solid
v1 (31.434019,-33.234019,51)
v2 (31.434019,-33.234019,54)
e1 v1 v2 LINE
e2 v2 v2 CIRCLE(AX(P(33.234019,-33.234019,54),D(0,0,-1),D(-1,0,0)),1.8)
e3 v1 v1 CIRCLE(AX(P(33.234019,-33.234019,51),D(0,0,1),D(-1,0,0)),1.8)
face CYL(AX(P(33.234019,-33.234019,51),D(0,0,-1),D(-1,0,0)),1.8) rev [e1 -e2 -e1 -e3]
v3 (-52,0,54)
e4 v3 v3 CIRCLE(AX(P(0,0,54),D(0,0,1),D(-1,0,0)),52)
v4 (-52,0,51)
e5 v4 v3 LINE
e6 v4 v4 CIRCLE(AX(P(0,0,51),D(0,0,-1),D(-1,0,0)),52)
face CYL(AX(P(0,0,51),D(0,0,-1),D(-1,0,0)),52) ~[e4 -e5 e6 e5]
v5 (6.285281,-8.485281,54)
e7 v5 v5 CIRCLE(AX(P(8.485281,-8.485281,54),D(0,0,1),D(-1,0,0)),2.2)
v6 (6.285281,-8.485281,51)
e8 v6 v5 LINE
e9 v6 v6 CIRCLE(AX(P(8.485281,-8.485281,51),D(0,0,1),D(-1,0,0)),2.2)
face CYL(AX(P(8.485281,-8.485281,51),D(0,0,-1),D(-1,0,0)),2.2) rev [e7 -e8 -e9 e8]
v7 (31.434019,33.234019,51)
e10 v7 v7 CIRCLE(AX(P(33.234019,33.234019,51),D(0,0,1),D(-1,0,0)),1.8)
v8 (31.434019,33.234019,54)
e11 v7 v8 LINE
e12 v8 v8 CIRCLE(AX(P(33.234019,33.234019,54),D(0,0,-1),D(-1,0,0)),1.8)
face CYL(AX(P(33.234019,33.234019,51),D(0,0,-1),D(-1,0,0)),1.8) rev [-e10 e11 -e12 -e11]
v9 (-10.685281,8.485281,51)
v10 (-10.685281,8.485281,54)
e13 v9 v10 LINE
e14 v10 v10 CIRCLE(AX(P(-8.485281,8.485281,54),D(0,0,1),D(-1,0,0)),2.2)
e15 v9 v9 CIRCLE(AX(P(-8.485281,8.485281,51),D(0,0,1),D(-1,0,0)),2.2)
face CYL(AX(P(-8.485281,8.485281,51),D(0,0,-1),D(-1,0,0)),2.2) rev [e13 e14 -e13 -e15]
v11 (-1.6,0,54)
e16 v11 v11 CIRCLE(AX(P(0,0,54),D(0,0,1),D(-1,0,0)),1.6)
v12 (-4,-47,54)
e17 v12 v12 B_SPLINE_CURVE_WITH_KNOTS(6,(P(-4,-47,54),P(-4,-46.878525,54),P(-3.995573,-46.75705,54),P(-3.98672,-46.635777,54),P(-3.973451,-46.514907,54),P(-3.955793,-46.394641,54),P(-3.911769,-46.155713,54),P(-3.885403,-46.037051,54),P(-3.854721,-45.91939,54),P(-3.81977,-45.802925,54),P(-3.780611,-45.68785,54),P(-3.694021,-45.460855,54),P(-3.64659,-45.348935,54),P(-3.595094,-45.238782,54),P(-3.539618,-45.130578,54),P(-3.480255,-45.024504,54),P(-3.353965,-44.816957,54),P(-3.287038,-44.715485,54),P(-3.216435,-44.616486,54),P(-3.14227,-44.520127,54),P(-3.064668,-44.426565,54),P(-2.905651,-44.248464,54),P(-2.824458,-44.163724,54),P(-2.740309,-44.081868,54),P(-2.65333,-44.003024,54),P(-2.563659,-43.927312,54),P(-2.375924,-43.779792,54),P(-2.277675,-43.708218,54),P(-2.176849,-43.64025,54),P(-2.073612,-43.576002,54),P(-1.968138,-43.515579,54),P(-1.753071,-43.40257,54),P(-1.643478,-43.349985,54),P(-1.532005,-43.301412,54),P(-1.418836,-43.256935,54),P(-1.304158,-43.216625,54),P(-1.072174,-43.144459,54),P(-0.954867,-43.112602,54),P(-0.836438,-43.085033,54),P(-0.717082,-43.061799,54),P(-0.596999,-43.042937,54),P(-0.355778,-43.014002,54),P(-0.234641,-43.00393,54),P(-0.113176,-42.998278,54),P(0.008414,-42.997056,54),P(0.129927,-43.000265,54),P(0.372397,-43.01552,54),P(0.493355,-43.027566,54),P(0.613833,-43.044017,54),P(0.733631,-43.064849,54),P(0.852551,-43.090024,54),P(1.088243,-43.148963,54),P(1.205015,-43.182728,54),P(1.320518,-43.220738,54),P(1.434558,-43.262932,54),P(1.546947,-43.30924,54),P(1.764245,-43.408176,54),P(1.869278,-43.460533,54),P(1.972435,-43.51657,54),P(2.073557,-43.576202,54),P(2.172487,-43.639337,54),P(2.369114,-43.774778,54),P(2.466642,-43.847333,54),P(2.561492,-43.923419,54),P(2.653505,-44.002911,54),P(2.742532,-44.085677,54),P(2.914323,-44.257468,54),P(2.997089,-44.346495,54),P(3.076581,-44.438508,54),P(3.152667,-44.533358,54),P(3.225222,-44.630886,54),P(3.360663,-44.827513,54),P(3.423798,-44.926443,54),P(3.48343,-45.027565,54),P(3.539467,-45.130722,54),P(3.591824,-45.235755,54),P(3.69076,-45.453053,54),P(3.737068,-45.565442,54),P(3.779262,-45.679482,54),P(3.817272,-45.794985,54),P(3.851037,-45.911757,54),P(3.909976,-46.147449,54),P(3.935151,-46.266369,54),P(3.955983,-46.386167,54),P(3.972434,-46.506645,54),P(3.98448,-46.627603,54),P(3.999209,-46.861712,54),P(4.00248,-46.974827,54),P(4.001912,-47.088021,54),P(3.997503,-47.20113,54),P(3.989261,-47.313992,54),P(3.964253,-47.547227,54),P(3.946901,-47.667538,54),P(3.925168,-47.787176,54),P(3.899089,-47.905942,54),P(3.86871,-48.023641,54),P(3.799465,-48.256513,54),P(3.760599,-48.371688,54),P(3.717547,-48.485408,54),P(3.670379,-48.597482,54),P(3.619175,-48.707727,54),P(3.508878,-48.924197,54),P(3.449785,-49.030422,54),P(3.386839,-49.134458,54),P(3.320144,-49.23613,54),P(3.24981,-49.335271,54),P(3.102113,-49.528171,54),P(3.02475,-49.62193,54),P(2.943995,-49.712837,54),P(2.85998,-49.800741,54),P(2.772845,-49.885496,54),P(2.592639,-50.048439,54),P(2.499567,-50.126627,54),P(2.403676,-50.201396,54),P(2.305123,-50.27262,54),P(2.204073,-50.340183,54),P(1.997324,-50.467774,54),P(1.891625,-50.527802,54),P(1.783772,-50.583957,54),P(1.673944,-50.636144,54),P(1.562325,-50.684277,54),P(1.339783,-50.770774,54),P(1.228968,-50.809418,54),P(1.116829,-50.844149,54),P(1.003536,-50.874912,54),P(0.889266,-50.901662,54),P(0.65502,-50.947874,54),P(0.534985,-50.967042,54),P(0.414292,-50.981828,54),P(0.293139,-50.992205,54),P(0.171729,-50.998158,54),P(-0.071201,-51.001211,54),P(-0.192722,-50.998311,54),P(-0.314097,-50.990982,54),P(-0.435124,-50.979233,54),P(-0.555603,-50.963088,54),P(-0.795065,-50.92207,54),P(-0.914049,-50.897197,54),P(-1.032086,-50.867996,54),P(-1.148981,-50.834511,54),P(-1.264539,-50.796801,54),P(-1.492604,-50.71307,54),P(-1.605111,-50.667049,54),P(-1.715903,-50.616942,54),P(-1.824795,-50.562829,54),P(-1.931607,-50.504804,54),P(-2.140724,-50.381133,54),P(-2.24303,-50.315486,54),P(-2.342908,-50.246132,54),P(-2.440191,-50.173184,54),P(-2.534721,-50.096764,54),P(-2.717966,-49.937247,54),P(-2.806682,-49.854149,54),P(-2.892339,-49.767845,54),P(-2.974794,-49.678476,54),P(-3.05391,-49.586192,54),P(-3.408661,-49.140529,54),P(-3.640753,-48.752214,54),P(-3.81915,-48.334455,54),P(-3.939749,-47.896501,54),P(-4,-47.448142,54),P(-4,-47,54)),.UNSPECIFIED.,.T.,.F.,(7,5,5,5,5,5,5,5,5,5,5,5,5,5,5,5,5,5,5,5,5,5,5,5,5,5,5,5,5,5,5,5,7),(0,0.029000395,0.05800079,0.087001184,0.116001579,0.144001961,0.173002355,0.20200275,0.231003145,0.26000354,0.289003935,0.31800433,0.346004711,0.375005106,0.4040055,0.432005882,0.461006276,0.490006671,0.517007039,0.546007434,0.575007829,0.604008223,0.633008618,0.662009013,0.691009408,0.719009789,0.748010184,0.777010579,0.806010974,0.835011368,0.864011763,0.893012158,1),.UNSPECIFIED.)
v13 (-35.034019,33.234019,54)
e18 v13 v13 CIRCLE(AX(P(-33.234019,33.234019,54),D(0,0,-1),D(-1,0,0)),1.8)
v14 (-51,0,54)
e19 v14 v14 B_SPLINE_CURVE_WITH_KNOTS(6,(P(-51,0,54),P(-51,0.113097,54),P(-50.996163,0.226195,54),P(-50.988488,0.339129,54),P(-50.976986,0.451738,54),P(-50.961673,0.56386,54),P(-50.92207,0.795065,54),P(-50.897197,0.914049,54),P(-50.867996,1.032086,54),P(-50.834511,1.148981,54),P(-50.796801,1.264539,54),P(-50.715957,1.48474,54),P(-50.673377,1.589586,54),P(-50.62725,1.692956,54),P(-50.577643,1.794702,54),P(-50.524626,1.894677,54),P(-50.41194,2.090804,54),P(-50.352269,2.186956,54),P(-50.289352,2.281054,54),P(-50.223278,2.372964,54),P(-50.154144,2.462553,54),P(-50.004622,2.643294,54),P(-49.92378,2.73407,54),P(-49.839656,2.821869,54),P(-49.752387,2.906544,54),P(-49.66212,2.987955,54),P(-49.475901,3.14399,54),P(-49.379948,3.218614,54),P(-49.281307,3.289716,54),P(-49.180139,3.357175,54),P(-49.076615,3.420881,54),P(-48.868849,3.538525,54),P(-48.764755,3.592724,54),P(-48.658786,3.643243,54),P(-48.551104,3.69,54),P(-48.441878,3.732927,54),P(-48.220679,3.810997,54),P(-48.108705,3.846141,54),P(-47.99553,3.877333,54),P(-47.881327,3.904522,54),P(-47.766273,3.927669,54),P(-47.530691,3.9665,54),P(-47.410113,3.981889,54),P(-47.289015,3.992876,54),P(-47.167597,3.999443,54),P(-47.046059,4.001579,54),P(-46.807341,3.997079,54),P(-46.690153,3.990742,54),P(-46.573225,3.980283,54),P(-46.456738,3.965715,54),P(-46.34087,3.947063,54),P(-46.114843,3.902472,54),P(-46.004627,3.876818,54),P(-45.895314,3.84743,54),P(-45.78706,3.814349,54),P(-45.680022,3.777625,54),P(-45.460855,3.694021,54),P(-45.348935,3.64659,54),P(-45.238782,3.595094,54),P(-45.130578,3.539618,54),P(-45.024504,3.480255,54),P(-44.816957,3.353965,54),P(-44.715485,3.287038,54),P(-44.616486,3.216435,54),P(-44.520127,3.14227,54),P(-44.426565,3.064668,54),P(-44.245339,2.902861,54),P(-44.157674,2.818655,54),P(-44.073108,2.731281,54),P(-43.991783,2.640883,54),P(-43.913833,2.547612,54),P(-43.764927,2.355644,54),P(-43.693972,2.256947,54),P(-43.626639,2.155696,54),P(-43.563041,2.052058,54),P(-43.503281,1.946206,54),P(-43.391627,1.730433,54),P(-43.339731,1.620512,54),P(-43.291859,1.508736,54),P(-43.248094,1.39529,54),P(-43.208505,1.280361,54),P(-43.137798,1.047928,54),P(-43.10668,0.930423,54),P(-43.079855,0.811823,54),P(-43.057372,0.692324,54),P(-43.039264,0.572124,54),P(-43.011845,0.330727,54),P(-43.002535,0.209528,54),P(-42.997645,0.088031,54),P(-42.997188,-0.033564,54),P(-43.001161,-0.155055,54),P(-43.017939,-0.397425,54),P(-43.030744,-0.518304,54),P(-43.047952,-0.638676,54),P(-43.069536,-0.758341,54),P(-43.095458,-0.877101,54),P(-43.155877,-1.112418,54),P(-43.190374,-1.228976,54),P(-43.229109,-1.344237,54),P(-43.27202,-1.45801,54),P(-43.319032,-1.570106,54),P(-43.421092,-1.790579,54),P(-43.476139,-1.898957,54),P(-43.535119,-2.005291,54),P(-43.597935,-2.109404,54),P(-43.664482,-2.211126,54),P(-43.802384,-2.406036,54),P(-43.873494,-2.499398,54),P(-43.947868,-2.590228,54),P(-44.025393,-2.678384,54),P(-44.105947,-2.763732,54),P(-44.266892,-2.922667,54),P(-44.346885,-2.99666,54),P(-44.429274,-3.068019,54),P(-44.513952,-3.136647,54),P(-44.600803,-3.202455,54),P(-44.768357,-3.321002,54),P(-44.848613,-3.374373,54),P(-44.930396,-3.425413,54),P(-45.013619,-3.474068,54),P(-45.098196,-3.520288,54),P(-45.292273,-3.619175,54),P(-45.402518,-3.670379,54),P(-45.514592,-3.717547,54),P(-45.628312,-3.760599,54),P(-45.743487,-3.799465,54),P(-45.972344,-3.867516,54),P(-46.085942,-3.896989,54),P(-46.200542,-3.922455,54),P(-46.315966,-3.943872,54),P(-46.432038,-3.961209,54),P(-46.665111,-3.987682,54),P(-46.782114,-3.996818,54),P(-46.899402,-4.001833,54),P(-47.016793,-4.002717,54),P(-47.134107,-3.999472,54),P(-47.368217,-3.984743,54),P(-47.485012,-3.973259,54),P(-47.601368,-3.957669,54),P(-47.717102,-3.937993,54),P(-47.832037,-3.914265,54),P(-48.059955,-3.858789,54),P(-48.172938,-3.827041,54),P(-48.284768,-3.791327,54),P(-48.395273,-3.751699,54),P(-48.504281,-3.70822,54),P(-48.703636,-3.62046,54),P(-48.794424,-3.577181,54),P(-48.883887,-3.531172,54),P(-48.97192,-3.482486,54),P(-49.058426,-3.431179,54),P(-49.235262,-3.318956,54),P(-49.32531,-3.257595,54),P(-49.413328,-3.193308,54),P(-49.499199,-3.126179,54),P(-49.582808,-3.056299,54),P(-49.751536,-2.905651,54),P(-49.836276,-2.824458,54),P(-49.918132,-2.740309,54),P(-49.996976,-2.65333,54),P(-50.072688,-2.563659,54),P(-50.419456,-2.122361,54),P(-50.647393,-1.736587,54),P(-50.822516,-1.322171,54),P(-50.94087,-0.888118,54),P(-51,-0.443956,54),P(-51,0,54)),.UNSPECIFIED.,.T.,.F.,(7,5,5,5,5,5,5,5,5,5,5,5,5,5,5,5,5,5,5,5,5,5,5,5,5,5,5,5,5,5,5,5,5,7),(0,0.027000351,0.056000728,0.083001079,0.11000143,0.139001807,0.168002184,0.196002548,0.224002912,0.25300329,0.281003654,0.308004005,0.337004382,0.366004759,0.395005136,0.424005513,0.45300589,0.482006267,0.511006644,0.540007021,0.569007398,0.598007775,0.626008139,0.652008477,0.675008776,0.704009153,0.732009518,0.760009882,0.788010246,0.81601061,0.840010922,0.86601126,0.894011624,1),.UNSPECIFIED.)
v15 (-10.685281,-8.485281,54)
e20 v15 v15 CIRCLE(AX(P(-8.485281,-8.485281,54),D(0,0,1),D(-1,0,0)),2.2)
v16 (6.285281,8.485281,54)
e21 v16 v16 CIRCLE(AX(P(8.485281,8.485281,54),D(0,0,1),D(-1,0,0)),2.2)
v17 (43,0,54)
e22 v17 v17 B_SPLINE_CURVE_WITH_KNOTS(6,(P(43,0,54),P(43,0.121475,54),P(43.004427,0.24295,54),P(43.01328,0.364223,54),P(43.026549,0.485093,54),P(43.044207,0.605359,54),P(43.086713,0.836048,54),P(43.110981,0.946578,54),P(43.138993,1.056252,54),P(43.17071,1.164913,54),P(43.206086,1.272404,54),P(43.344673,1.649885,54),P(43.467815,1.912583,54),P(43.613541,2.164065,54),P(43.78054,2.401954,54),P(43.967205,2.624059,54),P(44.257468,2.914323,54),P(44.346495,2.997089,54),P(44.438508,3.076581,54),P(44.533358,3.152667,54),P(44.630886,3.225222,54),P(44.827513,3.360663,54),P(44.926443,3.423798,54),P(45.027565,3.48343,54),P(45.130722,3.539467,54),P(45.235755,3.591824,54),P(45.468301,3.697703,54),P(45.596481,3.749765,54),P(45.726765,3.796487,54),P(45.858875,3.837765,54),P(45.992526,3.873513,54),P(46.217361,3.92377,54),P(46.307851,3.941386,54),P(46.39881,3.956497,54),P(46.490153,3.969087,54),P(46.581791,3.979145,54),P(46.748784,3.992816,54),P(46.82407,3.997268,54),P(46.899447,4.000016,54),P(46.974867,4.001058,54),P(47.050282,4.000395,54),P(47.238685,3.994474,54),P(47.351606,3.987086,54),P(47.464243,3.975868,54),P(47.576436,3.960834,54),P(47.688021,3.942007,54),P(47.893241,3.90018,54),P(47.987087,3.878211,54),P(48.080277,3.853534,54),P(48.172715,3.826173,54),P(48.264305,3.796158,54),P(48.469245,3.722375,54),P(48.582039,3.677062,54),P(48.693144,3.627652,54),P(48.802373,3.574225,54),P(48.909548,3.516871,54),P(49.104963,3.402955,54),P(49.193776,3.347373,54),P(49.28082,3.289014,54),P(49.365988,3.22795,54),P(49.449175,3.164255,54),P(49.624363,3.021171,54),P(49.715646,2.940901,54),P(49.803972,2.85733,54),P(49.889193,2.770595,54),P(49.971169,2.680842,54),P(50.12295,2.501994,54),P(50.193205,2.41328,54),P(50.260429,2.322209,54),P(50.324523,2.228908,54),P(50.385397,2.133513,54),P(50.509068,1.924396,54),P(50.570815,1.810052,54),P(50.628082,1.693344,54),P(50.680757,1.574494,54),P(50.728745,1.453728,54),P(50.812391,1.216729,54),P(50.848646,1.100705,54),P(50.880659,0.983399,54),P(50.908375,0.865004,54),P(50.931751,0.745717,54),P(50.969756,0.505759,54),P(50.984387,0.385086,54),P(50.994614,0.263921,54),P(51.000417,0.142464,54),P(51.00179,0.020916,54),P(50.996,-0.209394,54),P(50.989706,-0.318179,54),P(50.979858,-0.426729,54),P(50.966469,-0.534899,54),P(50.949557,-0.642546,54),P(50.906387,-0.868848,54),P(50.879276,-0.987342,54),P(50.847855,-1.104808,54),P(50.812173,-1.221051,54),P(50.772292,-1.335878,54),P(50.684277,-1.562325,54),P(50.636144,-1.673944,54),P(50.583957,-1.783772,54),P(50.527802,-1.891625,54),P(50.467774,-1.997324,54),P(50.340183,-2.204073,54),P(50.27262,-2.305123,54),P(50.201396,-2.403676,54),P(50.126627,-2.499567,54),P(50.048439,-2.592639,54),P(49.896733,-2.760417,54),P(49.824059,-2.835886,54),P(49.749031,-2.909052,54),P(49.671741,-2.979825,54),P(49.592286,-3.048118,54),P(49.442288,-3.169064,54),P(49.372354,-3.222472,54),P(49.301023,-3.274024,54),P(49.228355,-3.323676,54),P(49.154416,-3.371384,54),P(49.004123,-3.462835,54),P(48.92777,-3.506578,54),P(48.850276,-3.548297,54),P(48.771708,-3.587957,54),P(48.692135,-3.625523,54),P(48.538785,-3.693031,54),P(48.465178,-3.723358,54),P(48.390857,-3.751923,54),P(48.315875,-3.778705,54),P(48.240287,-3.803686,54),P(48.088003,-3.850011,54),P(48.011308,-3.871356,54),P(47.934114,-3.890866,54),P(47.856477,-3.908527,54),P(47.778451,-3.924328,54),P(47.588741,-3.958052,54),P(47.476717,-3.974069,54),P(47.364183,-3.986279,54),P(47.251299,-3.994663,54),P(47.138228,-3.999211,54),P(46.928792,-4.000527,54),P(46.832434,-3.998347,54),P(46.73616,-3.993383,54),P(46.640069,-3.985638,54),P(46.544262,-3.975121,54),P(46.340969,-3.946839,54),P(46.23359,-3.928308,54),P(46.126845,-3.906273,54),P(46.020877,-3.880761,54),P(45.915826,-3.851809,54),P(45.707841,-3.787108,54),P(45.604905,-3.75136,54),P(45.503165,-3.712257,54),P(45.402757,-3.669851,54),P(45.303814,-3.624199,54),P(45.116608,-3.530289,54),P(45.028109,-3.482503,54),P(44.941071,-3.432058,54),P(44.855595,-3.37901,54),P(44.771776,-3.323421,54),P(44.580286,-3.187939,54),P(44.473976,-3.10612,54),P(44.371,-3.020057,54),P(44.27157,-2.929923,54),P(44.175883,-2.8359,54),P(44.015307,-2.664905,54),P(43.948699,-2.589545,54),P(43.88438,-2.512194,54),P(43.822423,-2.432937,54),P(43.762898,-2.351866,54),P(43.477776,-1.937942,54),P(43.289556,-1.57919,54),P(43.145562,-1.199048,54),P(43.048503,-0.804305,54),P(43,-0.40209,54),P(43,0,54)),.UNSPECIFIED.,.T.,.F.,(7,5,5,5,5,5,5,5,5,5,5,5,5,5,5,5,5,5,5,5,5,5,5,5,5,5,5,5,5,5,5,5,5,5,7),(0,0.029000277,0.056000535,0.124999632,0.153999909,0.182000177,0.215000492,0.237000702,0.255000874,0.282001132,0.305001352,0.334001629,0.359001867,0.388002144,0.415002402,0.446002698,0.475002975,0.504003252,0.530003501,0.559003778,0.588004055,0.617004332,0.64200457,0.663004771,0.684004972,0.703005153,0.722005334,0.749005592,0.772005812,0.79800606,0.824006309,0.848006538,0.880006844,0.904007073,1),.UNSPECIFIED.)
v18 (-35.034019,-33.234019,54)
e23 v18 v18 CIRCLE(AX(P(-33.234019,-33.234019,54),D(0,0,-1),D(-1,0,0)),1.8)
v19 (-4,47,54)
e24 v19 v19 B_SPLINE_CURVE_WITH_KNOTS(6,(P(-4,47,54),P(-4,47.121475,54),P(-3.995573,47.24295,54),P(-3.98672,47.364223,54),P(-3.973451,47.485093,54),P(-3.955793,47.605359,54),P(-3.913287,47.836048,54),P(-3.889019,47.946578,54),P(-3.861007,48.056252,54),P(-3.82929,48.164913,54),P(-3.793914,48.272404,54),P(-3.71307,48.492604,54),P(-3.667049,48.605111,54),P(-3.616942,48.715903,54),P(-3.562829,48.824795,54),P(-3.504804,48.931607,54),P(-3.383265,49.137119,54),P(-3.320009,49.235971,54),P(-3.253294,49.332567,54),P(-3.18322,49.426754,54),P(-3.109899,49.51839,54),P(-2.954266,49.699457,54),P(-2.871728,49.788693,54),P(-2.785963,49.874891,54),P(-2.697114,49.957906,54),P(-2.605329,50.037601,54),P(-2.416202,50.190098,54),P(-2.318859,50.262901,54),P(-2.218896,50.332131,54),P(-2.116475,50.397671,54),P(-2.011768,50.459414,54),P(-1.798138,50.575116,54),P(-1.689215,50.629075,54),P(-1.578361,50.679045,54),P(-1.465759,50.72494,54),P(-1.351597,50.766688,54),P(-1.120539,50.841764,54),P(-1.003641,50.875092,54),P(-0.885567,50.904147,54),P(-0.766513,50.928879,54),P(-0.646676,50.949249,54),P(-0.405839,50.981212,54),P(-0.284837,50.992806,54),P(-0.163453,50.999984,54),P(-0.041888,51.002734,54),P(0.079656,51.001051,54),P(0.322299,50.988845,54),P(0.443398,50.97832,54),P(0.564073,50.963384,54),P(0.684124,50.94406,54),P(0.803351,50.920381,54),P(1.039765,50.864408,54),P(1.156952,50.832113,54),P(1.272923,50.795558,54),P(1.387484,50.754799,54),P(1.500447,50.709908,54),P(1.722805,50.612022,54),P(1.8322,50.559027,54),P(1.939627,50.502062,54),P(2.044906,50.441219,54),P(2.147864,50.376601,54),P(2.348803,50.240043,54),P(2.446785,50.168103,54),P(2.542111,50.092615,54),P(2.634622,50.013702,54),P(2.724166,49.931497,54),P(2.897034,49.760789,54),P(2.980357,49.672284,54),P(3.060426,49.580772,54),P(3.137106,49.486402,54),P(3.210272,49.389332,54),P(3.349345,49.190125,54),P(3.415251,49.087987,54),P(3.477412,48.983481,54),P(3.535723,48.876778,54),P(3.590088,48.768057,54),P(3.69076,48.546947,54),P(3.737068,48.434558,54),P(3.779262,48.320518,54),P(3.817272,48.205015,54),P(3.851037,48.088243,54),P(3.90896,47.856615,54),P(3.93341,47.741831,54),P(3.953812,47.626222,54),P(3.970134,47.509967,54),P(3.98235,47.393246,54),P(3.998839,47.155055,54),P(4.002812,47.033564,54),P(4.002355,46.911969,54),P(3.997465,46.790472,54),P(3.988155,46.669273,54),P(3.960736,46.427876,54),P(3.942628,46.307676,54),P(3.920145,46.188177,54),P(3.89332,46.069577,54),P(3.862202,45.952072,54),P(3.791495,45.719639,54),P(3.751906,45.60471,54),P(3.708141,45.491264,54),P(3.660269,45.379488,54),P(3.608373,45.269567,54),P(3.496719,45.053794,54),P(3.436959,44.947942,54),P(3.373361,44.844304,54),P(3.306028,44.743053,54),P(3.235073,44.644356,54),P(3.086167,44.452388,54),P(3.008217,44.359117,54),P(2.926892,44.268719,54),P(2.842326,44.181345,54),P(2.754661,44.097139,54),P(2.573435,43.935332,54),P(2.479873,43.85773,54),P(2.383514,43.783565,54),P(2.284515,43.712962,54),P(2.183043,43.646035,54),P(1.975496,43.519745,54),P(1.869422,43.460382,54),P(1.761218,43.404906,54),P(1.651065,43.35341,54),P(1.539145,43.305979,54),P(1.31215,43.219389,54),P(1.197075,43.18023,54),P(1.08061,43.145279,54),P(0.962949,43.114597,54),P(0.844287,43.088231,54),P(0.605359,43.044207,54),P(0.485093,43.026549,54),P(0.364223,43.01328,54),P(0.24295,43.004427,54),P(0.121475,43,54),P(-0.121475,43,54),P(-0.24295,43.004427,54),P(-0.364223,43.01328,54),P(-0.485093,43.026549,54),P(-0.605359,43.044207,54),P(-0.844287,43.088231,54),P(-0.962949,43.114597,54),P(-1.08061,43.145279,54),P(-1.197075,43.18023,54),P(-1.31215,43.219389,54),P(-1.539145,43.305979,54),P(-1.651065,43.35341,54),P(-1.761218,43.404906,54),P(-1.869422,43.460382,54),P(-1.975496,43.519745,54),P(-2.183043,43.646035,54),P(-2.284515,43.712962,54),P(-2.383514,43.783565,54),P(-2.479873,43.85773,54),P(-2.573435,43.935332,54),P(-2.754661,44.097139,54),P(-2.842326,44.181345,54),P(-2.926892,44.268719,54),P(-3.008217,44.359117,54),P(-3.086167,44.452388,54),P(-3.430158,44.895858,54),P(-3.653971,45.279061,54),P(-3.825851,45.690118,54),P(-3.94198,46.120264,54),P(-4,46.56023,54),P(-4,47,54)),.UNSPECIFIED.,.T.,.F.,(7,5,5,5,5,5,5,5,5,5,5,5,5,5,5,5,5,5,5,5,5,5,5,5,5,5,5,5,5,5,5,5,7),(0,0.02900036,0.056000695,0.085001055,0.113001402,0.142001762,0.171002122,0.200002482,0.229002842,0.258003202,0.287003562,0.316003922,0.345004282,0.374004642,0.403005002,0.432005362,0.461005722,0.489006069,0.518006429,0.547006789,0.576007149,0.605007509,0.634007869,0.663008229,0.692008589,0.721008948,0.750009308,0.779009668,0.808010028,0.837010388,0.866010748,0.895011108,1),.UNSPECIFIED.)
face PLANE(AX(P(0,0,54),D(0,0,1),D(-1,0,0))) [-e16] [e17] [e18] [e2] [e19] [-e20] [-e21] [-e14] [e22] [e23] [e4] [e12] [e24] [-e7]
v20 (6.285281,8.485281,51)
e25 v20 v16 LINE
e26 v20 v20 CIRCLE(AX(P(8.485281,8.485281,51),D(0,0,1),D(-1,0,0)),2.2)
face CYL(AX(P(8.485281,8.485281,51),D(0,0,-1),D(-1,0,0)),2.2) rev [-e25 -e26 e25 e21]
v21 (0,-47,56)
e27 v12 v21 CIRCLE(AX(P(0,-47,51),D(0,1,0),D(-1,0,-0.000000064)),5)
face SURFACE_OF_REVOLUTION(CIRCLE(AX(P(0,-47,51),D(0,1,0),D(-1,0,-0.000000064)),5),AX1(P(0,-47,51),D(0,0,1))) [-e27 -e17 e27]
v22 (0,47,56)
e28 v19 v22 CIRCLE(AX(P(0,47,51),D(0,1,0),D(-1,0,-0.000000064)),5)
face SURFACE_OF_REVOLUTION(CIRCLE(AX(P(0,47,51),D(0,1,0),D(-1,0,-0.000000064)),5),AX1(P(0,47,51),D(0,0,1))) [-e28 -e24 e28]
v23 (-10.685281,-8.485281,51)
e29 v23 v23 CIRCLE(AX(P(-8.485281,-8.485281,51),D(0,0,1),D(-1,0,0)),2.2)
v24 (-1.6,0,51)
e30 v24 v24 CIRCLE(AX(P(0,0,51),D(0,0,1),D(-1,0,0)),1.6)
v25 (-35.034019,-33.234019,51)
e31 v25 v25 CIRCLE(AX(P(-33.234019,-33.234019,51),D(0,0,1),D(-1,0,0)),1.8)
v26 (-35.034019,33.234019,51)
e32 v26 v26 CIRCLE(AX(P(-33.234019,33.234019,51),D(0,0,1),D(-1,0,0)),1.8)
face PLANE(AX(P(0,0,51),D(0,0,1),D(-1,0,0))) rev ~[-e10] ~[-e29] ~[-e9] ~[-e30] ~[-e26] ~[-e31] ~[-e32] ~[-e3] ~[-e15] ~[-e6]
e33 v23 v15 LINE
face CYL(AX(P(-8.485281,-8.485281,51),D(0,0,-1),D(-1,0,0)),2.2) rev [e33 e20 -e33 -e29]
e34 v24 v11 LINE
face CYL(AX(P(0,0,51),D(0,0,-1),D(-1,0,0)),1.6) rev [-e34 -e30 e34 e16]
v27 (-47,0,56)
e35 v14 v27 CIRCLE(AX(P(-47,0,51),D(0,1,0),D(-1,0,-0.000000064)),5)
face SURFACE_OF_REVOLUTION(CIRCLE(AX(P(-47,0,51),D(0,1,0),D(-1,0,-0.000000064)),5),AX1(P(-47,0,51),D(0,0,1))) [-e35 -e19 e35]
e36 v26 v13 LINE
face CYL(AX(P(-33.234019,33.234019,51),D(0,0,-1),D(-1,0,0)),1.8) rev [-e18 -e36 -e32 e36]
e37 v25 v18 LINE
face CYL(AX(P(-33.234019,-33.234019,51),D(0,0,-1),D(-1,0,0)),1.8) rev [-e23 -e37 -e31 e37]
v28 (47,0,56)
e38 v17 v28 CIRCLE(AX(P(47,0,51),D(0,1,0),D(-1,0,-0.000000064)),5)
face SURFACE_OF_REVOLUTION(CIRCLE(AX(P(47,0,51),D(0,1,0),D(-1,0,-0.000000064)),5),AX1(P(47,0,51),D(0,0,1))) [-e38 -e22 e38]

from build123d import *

# Parameters (mm, degrees)
SKETCH004_R             = 52
SKETCH004_R_2           = 1.6
SKETCH004_R_3           = 2.2
PAD003_DEPTH            = 3
SKETCH006_R             = 1.8
POCKET001_DEPTH         = 0.001
POCKET001_DEPTH_BACK    = 3.001
BODY002_PLACEMENT_ANGLE = 180


with BuildPart() as part:
    # Sketch004 → Pad003 (new body)
    with BuildSketch(Plane.XY):
        Circle(SKETCH004_R)
        Circle(SKETCH004_R_2, mode=Mode.SUBTRACT)
        with Locations((8.485281, 8.485281)):
            Circle(SKETCH004_R_3, mode=Mode.SUBTRACT)
        with Locations((-8.485281, 8.485281)):
            Circle(SKETCH004_R_3, mode=Mode.SUBTRACT)
        with Locations((-8.485281, -8.485281)):
            Circle(SKETCH004_R_3, mode=Mode.SUBTRACT)
        with Locations((8.485281, -8.485281)):
            Circle(SKETCH004_R_3, mode=Mode.SUBTRACT)
    extrude(amount=PAD003_DEPTH)

    # Sketch006 → Pocket001 (cut, two sides)
    with BuildSketch(Plane.XY) as pocket001_sk:
        with Locations((-33.234019, 33.234019)):
            Circle(SKETCH006_R)
        with Locations((-33.234019, -33.234019)):
            Circle(SKETCH006_R)
        with Locations((33.234019, -33.234019)):
            Circle(SKETCH006_R)
        with Locations((33.234019, 33.234019)):
            Circle(SKETCH006_R)
    extrude(amount=-POCKET001_DEPTH, mode=Mode.SUBTRACT)
    extrude(pocket001_sk.sketch, amount=POCKET001_DEPTH_BACK, mode=Mode.SUBTRACT)

    # Sphere → Sphere (revolve)
    with BuildSketch(Plane.XZ.offset(-47)):
        with BuildLine():
            ThreePointArc((5, 0), (3.535534, 3.535534), (0, 5))
            Line((0, 5), (0, 0))
            Line((0, 0), (5, 0))
        make_face()
    revolve(axis=Axis((0, 47, 0), (0, 0, 1)))

    # Sphere001 → Sphere001 (revolve)
    with BuildSketch(Plane.XZ.offset(47)):
        with BuildLine():
            ThreePointArc((5, 0), (3.535534, 3.535534), (0, 5))
            Line((0, 5), (0, 0))
            Line((0, 0), (5, 0))
        make_face()
    revolve(axis=Axis((0, -47, 0), (0, 0, 1)))

    # Sphere002 → Sphere002 (revolve)
    with BuildSketch(Plane(origin=(47, 0, 0), x_dir=(1, 0, 0), z_dir=(0, -1, 0))):
        with BuildLine():
            ThreePointArc((5, 0), (3.535534, 3.535534), (0, 5))
            Line((0, 5), (0, 0))
            Line((0, 0), (5, 0))
        make_face()
    revolve(axis=Axis((47, 0, 0), (0, 0, 1)))

    # Sphere003 → Sphere003 (revolve)
    with BuildSketch(Plane(origin=(-47, 0, 0), x_dir=(1, 0, 0), z_dir=(0, -1, 0))):
        with BuildLine():
            ThreePointArc((5, 0), (3.535534, 3.535534), (0, 5))
            Line((0, 5), (0, 0))
            Line((0, 0), (5, 0))
        make_face()
    revolve(axis=Axis((-47, 0, 0), (0, 0, 1)))


with BuildPart() as part_1:
    # Body002 placement: moved
    add(part.part.moved(Location((0, 0, 51))).rotate(Axis((0, 0, 51), (0, 0, -1)), BODY002_PLACEMENT_ANGLE))


solid = part_1.part
